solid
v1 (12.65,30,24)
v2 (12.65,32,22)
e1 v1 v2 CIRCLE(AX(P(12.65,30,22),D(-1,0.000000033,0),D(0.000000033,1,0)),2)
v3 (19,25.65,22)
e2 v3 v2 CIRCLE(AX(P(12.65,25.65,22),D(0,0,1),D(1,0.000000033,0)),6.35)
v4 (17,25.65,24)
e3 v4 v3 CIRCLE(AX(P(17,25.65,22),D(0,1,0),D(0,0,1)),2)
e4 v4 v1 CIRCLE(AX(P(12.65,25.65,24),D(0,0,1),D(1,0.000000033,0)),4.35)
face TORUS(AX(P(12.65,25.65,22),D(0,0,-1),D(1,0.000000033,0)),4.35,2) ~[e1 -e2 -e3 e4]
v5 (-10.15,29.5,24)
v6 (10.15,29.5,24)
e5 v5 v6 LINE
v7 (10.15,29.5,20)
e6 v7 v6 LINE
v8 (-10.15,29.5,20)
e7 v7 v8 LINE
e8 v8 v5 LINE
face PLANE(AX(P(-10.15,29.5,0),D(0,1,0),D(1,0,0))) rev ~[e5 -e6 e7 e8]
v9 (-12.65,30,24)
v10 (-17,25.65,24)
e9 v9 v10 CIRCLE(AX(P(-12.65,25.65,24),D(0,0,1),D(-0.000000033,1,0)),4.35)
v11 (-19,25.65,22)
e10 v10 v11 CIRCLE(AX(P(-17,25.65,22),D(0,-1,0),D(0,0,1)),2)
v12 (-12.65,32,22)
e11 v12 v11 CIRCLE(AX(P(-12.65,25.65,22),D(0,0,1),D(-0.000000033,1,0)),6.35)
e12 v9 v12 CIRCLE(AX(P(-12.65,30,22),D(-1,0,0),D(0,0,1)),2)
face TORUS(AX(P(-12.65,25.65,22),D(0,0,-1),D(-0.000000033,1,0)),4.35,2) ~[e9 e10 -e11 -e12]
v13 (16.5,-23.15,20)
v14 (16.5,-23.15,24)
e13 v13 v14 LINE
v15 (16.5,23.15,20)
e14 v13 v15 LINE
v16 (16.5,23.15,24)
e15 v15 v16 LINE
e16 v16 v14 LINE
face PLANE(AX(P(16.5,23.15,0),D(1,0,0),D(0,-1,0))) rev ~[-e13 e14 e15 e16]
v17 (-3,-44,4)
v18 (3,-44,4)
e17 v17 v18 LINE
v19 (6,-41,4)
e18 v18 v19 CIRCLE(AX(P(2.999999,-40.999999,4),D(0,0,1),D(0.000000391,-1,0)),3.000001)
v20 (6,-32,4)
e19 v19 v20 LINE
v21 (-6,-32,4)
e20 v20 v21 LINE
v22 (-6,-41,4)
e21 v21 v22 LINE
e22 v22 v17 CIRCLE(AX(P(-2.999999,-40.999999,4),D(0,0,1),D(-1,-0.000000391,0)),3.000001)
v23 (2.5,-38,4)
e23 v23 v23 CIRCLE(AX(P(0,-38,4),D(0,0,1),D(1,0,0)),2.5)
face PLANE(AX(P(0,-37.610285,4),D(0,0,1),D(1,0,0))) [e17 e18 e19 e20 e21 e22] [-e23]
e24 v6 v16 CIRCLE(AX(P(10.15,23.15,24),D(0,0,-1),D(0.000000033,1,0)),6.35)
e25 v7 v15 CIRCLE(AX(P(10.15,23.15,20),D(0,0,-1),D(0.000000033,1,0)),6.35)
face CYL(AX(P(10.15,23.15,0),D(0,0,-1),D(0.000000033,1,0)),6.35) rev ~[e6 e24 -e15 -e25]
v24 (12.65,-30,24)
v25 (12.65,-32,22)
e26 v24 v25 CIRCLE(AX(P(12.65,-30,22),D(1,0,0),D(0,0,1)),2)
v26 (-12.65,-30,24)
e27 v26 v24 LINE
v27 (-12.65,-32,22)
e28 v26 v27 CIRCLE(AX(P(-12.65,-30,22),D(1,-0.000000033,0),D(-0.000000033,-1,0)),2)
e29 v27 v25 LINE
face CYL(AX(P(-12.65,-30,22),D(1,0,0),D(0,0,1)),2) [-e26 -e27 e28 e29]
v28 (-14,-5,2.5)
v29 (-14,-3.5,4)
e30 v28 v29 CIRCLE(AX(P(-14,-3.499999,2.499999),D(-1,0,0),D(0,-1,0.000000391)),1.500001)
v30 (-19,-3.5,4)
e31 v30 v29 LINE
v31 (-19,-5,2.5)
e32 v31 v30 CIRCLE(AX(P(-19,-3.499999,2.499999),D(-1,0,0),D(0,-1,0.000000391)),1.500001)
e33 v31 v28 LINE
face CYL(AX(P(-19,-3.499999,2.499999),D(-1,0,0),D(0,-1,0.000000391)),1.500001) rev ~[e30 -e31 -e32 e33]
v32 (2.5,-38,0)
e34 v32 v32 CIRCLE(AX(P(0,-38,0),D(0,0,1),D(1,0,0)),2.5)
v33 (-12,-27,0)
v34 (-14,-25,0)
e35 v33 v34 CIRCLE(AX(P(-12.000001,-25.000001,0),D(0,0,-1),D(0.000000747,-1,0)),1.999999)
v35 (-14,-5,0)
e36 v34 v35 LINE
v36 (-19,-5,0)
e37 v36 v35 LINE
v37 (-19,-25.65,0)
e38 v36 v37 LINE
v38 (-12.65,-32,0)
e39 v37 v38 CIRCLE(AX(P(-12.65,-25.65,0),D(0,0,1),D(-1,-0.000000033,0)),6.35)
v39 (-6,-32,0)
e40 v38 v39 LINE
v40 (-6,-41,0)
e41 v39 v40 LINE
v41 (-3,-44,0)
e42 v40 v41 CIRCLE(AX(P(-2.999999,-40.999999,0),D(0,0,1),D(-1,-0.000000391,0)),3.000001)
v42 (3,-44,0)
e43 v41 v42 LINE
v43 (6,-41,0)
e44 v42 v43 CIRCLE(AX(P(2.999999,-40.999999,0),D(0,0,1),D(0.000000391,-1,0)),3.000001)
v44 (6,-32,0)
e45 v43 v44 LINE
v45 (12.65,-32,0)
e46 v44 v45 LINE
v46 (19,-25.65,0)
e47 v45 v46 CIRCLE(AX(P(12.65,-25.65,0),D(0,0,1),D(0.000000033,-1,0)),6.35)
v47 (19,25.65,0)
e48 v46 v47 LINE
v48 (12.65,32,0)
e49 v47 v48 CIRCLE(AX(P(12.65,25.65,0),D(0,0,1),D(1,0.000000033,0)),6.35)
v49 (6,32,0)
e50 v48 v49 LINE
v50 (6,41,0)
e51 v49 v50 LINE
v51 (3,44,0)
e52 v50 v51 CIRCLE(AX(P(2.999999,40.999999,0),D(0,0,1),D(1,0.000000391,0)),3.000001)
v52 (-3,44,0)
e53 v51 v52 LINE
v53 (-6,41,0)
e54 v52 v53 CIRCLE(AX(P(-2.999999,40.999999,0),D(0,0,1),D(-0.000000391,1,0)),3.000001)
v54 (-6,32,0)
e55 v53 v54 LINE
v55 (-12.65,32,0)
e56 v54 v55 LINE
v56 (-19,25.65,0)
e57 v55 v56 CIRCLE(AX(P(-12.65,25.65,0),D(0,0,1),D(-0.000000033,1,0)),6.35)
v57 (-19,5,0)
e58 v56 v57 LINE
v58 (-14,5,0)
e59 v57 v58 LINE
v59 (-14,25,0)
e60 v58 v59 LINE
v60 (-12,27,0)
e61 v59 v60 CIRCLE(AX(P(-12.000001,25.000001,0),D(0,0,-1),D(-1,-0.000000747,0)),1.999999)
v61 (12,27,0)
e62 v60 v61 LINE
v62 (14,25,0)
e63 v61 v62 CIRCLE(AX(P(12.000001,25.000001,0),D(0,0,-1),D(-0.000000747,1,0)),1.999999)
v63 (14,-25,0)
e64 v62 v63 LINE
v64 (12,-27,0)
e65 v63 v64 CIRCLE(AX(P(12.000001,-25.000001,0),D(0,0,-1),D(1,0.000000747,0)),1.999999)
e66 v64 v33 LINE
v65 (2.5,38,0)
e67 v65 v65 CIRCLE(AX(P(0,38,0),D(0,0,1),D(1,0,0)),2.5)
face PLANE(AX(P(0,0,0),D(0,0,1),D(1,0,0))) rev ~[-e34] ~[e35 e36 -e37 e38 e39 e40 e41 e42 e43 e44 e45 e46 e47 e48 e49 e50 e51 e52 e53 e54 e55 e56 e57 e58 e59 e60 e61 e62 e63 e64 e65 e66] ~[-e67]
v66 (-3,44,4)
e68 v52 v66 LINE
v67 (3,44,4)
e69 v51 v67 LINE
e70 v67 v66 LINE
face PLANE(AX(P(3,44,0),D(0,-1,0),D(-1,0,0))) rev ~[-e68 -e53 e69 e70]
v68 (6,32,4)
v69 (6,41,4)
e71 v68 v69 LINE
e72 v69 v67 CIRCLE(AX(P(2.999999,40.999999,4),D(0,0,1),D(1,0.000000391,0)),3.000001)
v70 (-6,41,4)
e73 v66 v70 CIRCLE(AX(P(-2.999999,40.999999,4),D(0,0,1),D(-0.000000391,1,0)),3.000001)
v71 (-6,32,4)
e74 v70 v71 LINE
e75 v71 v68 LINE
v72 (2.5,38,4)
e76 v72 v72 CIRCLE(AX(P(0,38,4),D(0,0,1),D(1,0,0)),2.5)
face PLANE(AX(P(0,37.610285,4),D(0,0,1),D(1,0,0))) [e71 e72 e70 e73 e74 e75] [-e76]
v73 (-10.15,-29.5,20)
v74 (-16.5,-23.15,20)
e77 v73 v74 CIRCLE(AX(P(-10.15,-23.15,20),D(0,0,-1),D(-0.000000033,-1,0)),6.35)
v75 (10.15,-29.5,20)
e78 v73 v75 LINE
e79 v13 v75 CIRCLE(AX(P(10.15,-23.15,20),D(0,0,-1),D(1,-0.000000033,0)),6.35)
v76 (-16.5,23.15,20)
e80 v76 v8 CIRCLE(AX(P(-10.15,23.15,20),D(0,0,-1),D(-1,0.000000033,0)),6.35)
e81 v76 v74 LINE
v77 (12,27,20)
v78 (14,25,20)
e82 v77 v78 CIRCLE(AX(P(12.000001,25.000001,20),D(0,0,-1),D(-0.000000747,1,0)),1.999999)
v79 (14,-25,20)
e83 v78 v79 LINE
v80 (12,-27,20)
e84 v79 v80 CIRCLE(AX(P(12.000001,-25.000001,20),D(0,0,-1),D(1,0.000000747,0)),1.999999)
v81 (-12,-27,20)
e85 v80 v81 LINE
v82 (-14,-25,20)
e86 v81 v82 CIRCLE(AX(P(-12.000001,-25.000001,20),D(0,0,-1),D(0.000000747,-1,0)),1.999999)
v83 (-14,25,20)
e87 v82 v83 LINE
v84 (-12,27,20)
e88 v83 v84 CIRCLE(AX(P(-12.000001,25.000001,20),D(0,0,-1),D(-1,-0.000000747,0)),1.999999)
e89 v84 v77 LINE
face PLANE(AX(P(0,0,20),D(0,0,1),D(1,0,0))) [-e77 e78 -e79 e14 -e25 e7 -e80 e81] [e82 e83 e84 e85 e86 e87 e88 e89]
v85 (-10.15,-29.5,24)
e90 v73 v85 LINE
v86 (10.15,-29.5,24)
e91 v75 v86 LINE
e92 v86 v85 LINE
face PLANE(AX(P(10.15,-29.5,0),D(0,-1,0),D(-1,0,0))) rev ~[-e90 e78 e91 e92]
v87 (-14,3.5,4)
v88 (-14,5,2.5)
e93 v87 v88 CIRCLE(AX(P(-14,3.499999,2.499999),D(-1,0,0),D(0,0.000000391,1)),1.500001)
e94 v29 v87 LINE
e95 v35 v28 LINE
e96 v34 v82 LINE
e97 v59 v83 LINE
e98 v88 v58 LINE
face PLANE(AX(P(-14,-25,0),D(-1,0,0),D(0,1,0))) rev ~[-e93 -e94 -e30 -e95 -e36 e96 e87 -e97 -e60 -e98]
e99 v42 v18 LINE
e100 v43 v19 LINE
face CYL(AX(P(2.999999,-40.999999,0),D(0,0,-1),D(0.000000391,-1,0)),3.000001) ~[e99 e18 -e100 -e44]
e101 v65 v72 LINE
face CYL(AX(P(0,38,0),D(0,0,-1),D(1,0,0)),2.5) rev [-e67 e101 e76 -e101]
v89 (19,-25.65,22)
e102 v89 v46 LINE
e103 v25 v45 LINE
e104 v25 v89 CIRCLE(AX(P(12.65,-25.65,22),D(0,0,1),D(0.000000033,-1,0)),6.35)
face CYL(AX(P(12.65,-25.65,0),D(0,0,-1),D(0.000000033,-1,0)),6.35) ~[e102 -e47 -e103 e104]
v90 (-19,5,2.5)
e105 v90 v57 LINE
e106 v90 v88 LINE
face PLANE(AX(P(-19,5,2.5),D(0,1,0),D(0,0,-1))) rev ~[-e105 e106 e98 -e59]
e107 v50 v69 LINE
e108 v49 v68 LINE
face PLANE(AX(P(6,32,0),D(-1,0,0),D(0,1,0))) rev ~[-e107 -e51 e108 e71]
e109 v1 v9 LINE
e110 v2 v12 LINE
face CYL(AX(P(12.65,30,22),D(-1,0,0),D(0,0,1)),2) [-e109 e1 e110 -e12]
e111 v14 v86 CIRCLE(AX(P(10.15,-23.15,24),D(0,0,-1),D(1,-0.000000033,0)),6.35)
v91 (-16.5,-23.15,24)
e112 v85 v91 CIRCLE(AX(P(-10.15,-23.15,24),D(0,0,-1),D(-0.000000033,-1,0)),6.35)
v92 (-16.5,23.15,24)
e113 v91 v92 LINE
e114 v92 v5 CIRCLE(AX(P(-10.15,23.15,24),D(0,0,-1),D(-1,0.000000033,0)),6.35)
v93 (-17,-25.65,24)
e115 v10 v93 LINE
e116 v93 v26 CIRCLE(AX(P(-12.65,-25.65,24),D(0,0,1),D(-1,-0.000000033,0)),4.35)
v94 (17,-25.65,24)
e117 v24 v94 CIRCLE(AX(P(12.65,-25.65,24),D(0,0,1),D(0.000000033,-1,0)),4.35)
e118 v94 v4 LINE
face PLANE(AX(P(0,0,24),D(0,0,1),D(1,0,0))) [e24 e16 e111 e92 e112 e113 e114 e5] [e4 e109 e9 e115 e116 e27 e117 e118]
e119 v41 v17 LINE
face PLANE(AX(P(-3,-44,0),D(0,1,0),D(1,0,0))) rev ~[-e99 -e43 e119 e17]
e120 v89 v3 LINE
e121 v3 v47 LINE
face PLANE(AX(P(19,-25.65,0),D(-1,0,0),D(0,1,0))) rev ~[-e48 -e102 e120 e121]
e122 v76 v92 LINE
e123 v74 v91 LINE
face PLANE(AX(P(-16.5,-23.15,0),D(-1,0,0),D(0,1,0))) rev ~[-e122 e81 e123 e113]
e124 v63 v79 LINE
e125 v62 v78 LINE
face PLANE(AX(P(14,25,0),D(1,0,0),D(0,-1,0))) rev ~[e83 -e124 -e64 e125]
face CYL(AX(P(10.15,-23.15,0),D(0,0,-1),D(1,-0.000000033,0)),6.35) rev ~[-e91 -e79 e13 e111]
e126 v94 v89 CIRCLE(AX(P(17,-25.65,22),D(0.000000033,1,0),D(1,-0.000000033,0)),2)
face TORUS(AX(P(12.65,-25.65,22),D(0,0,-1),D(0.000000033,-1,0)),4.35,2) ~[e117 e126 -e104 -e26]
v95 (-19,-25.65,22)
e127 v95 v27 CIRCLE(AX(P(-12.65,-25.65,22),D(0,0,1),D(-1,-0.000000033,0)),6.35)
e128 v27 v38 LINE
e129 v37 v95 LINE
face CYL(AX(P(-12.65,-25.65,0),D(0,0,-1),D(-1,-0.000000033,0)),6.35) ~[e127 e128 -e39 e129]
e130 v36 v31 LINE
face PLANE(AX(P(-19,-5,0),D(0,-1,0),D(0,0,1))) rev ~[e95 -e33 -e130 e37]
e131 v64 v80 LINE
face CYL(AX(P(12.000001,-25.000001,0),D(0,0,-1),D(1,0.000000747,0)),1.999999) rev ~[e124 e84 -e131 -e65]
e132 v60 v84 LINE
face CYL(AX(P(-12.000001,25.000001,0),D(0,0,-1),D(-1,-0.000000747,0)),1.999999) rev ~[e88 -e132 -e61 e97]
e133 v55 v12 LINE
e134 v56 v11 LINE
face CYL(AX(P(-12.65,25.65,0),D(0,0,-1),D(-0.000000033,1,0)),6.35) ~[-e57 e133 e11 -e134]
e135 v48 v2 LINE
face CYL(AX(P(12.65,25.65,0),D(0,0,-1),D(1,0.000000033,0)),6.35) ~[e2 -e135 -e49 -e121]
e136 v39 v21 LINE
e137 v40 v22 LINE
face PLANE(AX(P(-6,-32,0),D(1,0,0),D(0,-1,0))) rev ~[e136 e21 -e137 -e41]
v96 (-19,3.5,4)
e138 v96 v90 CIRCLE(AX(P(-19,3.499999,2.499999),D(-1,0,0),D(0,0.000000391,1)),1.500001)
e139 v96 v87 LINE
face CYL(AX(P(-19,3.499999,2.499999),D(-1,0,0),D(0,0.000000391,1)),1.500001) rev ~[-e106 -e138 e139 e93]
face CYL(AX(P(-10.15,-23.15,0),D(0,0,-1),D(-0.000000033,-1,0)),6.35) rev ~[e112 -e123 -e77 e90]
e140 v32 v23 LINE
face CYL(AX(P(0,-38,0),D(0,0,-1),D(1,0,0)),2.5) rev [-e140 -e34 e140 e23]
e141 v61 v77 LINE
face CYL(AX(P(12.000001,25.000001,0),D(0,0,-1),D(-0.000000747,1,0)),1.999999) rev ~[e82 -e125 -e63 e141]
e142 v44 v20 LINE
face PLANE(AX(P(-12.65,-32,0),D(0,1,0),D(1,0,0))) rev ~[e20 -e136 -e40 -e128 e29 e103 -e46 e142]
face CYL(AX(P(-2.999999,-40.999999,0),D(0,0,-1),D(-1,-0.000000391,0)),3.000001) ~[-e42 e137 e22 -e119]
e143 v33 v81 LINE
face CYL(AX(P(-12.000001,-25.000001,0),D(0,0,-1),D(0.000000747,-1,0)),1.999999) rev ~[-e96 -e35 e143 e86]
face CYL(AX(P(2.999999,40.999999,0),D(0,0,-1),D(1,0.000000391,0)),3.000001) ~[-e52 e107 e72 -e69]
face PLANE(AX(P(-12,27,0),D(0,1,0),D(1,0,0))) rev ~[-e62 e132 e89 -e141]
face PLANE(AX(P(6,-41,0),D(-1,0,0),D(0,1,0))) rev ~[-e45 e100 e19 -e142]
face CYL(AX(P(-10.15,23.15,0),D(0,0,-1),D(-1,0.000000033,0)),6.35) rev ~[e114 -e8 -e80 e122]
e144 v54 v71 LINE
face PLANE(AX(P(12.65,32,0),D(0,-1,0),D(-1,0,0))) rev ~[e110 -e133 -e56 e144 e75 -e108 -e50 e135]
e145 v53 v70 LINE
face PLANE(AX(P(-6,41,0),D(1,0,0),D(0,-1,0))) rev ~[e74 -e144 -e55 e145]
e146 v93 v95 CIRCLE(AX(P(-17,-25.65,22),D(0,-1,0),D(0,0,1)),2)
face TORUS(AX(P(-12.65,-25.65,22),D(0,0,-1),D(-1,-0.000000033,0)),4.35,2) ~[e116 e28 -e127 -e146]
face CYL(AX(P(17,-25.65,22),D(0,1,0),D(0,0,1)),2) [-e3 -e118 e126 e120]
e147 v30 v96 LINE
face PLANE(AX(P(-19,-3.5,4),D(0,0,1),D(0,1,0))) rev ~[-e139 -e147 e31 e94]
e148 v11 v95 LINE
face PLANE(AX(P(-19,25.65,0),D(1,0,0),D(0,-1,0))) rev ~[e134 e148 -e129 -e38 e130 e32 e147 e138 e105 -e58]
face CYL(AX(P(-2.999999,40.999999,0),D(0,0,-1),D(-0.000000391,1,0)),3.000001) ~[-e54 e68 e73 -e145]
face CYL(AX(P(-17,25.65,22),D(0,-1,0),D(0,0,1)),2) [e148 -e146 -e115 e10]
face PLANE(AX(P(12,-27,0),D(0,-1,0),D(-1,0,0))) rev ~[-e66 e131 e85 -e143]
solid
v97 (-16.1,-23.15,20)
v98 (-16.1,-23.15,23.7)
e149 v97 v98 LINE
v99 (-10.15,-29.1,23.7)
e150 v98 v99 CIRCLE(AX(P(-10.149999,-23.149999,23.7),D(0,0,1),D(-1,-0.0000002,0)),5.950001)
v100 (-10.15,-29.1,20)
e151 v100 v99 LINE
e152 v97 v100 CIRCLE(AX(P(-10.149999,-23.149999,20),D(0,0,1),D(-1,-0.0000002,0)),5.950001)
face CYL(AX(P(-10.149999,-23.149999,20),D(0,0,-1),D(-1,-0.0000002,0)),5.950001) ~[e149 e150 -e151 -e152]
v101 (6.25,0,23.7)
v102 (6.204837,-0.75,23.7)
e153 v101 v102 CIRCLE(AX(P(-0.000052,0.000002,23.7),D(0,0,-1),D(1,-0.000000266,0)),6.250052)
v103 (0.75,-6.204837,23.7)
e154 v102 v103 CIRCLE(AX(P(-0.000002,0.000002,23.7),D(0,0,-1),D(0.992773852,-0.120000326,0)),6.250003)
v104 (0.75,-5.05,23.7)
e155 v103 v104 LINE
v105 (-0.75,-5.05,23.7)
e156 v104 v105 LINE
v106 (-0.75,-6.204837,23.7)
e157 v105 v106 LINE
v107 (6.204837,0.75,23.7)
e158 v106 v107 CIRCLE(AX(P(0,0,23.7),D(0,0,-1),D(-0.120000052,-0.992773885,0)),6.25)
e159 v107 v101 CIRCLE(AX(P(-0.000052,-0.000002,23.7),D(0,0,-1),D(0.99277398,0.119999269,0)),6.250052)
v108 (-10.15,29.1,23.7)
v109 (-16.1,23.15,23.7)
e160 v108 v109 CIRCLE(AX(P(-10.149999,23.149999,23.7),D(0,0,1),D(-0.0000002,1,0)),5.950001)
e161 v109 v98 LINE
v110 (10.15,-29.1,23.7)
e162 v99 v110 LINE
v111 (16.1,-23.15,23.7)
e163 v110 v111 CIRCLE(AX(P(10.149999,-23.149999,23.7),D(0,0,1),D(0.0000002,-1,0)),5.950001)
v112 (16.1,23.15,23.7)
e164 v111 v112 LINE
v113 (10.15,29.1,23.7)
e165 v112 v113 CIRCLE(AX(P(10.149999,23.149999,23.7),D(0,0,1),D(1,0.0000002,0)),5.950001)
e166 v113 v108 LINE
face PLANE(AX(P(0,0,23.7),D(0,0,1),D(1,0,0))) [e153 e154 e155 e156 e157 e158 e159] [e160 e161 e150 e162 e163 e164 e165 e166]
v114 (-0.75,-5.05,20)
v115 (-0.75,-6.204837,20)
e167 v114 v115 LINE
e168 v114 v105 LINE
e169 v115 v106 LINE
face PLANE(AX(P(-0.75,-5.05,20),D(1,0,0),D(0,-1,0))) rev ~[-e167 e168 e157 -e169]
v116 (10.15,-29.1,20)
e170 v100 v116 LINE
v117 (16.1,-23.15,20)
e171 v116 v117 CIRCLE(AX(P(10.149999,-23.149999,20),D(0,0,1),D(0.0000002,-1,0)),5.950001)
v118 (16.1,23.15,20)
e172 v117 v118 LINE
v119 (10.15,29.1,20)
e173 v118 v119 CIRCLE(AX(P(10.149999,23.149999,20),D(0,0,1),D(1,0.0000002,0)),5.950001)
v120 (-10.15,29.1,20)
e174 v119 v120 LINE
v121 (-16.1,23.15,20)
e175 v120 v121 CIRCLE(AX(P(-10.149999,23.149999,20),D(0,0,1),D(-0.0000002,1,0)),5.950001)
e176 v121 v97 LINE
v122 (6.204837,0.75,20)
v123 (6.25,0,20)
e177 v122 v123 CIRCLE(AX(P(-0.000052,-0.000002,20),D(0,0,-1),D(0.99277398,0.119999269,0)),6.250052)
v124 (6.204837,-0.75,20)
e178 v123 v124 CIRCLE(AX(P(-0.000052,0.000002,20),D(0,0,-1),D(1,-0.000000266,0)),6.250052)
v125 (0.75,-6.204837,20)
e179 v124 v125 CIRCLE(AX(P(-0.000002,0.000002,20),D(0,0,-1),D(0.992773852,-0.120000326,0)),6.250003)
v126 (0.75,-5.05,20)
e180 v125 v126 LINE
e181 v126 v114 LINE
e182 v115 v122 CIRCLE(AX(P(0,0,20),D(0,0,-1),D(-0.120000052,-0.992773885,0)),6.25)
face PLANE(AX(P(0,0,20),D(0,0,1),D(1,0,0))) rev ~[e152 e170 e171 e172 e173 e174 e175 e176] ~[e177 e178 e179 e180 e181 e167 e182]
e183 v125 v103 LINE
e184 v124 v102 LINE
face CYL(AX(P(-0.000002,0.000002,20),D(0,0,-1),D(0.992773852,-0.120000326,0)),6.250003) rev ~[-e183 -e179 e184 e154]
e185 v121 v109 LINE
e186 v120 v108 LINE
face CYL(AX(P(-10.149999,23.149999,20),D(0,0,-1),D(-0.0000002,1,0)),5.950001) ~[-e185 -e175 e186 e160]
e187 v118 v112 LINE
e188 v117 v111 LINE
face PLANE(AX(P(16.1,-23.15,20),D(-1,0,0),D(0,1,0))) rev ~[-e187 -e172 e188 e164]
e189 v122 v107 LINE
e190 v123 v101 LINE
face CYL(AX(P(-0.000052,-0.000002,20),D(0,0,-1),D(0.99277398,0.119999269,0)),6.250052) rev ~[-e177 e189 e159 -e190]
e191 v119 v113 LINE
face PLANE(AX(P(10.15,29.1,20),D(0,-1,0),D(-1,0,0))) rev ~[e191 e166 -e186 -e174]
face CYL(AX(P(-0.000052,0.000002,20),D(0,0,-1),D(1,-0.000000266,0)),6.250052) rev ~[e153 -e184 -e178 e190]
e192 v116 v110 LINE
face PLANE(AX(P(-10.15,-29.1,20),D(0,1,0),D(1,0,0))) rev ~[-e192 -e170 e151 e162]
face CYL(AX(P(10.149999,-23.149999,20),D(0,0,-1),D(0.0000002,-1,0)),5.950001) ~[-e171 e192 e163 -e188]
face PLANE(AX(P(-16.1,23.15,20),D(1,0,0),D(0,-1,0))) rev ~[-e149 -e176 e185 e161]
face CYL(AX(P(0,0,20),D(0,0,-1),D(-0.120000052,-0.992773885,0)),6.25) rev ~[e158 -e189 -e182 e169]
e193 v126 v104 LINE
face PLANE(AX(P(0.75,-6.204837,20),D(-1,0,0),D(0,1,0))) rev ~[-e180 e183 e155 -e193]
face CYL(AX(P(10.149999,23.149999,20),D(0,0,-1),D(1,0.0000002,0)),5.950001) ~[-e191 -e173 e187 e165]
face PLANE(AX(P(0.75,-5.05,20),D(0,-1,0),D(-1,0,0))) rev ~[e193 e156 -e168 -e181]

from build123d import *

# Parameters (mm, degrees)
F1_DEPTH = 20
F2_DEPTH = 24
F0_R     = 2.5
F3_DEPTH = 4
F5_R     = 2
F7_DEPTH = 3.7
F9_DEPTH = 5


with BuildPart() as f1:
    # F0 (on Top) → F1 (new body)
    with BuildSketch(Plane.XY):
        with BuildLine():
            ThreePointArc((19, 25.65), (17.140128, 30.140128), (12.65, 32))
            Line((12.65, 32), (6, 32))
            Line((6, 32), (-6, 32))
            Line((-6, 32), (-12.65, 32))
            ThreePointArc((-12.65, 32), (-17.140128, 30.140128), (-19, 25.65))
            Line((-19, 25.65), (-19, -25.65))
            ThreePointArc((-19, -25.65), (-17.140128, -30.140128), (-12.65, -32))
            Line((-12.65, -32), (-6, -32))
            Line((-6, -32), (6, -32))
            Line((6, -32), (12.65, -32))
            ThreePointArc((12.65, -32), (17.140128, -30.140128), (19, -25.65))
            Line((19, -25.65), (19, 25.65))
        make_face()
        with BuildLine():
            Line((-10.15, 29.5), (10.15, 29.5))
            ThreePointArc((10.15, 29.5), (14.640128, 27.640128), (16.5, 23.15))
            Line((16.5, 23.15), (16.5, -23.15))
            ThreePointArc((16.5, -23.15), (14.640128, -27.640128), (10.15, -29.5))
            Line((10.15, -29.5), (-10.15, -29.5))
            ThreePointArc((-10.15, -29.5), (-14.640128, -27.640128), (-16.5, -23.15))
            Line((-16.5, -23.15), (-16.5, 23.15))
            ThreePointArc((-16.5, 23.15), (-14.640128, 27.640128), (-10.15, 29.5))
        make_face(mode=Mode.SUBTRACT)
        with BuildLine():
            ThreePointArc((16.5, 23.15), (14.640128, 27.640128), (10.15, 29.5))
            Line((10.15, 29.5), (-10.15, 29.5))
            ThreePointArc((-10.15, 29.5), (-14.640128, 27.640128), (-16.5, 23.15))
            Line((-16.5, 23.15), (-16.5, -23.15))
            ThreePointArc((-16.5, -23.15), (-14.640128, -27.640128), (-10.15, -29.5))
            Line((-10.15, -29.5), (10.15, -29.5))
            ThreePointArc((10.15, -29.5), (14.640128, -27.640128), (16.5, -23.15))
            Line((16.5, -23.15), (16.5, 23.15))
        make_face()
        with BuildLine():
            Line((-12, 27), (12, 27))
            ThreePointArc((12, 27), (13.414214, 26.414214), (14, 25))
            Line((14, 25), (14, -25))
            ThreePointArc((14, -25), (13.414214, -26.414214), (12, -27))
            Line((12, -27), (-12, -27))
            ThreePointArc((-12, -27), (-13.414214, -26.414214), (-14, -25))
            Line((-14, -25), (-14, 25))
            ThreePointArc((-14, 25), (-13.414214, 26.414214), (-12, 27))
        make_face(mode=Mode.SUBTRACT)
    extrude(amount=F1_DEPTH)

    # F0 (on Top) → F2 (join)
    with BuildSketch(Plane.XY):
        with BuildLine():
            ThreePointArc((19, 25.65), (17.140128, 30.140128), (12.65, 32))
            Line((12.65, 32), (6, 32))
            Line((6, 32), (-6, 32))
            Line((-6, 32), (-12.65, 32))
            ThreePointArc((-12.65, 32), (-17.140128, 30.140128), (-19, 25.65))
            Line((-19, 25.65), (-19, -25.65))
            ThreePointArc((-19, -25.65), (-17.140128, -30.140128), (-12.65, -32))
            Line((-12.65, -32), (-6, -32))
            Line((-6, -32), (6, -32))
            Line((6, -32), (12.65, -32))
            ThreePointArc((12.65, -32), (17.140128, -30.140128), (19, -25.65))
            Line((19, -25.65), (19, 25.65))
        make_face()
        with BuildLine():
            Line((-10.15, 29.5), (10.15, 29.5))
            ThreePointArc((10.15, 29.5), (14.640128, 27.640128), (16.5, 23.15))
            Line((16.5, 23.15), (16.5, -23.15))
            ThreePointArc((16.5, -23.15), (14.640128, -27.640128), (10.15, -29.5))
            Line((10.15, -29.5), (-10.15, -29.5))
            ThreePointArc((-10.15, -29.5), (-14.640128, -27.640128), (-16.5, -23.15))
            Line((-16.5, -23.15), (-16.5, 23.15))
            ThreePointArc((-16.5, 23.15), (-14.640128, 27.640128), (-10.15, 29.5))
        make_face(mode=Mode.SUBTRACT)
    extrude(amount=F2_DEPTH)

    # F0 (on Top) → F3 (join)
    with BuildSketch(Plane.XY):
        with BuildLine():
            Line((-6, 32), (6, 32))
            Line((6, 32), (6, 41))
            ThreePointArc((6, 41), (5.12132, 43.12132), (3, 44))
            Line((3, 44), (-3, 44))
            ThreePointArc((-3, 44), (-5.12132, 43.12132), (-6, 41))
            Line((-6, 41), (-6, 32))
        make_face()
        with Locations((0, 38)):
            Circle(F0_R, mode=Mode.SUBTRACT)
        with BuildLine():
            Line((6, -41), (6, -32))
            Line((6, -32), (-6, -32))
            Line((-6, -32), (-6, -41))
            ThreePointArc((-6, -41), (-5.12132, -43.12132), (-3, -44))
            Line((-3, -44), (3, -44))
            ThreePointArc((3, -44), (5.12132, -43.12132), (6, -41))
        make_face()
        with Locations((0, -38)):
            Circle(F0_R, mode=Mode.SUBTRACT)
    extrude(amount=F3_DEPTH)

    # F5
    f5_edges = [f1.edges().sort_by_distance(p)[0] for p in [
        (-19, 0, 24),
        (-17.140128, 30.140128, 24),
        (0, 32, 24),
        (17.140128, 30.140128, 24),
        (19, 0, 24),
        (17.140128, -30.140128, 24),
        (0, -32, 24),
        (-17.140128, -30.140128, 24),
    ]]
    fillet(f5_edges, radius=F5_R)

    # F8 (on face) → F9 (cut)
    with BuildSketch(Plane(origin=(-19, 0, 0), x_dir=(0, -1, 0), z_dir=(-1, 0, 0))):
        with BuildLine():
            Line((-5, 2.5), (-5, 0))
            Line((-5, 0), (5, 0))
            Line((5, 0), (5, 2.5))
            ThreePointArc((5, 2.5), (4.56066, 3.56066), (3.5, 4))
            Line((3.5, 4), (-3.5, 4))
            ThreePointArc((-3.5, 4), (-4.56066, 3.56066), (-5, 2.5))
        make_face()
    extrude(amount=-F9_DEPTH, mode=Mode.SUBTRACT)


with BuildPart() as f7:
    # F6 (on face) → F7 (new body)
    with BuildSketch(Plane.XY.offset(20)):
        with BuildLine():
            Line((16.1, -23.15), (16.1, 23.15))
            ThreePointArc((16.1, 23.15), (14.357285, 27.357285), (10.15, 29.1))
            Line((10.15, 29.1), (-10.15, 29.1))
            ThreePointArc((-10.15, 29.1), (-14.357285, 27.357285), (-16.1, 23.15))
            Line((-16.1, 23.15), (-16.1, -23.15))
            ThreePointArc((-16.1, -23.15), (-14.357285, -27.357285), (-10.15, -29.1))
            Line((-10.15, -29.1), (10.15, -29.1))
            ThreePointArc((10.15, -29.1), (14.357285, -27.357285), (16.1, -23.15))
        make_face()
        with BuildLine():
            ThreePointArc((-0.75, -6.204837), (-4.419417, 4.419417), (6.204837, 0.75))
            Line((6.204837, 0.75), (7.45, 0.75))
            Line((7.45, 0.75), (7.45, -0.75))
            Line((7.45, -0.75), (6.204837, -0.75))
            ThreePointArc((6.204837, -0.75), (4.419417, -4.419417), (0.75, -6.204837))
            Line((0.75, -6.204837), (0.75, -7.45))
            Line((0.75, -7.45), (-0.75, -7.45))
            Line((-0.75, -7.45), (-0.75, -6.204837))
        make_face(mode=Mode.SUBTRACT)
        with BuildLine():
            ThreePointArc((6.204837, 0.75), (6.238699, 0.375679), (6.25, 0))
            ThreePointArc((6.25, 0), (6.238699, -0.375679), (6.204837, -0.75))
            Line((6.204837, -0.75), (7.45, -0.75))
            Line((7.45, -0.75), (7.45, 0.75))
            Line((7.45, 0.75), (6.204837, 0.75))
        make_face()
        with BuildLine():
            Line((-0.75, -5.05), (-0.75, -6.204837))
            ThreePointArc((-0.75, -6.204837), (0, -6.25), (0.75, -6.204837))
            Line((0.75, -6.204837), (0.75, -5.05))
            Line((0.75, -5.05), (-0.75, -5.05))
        make_face()
        with BuildLine():
            ThreePointArc((0.75, -6.204837), (0, -6.25), (-0.75, -6.204837))
            Line((-0.75, -6.204837), (-0.75, -7.45))
            Line((-0.75, -7.45), (0.75, -7.45))
            Line((0.75, -7.45), (0.75, -6.204837))
        make_face()
    extrude(amount=F7_DEPTH)


solid = Compound([f1.part, f7.part])
